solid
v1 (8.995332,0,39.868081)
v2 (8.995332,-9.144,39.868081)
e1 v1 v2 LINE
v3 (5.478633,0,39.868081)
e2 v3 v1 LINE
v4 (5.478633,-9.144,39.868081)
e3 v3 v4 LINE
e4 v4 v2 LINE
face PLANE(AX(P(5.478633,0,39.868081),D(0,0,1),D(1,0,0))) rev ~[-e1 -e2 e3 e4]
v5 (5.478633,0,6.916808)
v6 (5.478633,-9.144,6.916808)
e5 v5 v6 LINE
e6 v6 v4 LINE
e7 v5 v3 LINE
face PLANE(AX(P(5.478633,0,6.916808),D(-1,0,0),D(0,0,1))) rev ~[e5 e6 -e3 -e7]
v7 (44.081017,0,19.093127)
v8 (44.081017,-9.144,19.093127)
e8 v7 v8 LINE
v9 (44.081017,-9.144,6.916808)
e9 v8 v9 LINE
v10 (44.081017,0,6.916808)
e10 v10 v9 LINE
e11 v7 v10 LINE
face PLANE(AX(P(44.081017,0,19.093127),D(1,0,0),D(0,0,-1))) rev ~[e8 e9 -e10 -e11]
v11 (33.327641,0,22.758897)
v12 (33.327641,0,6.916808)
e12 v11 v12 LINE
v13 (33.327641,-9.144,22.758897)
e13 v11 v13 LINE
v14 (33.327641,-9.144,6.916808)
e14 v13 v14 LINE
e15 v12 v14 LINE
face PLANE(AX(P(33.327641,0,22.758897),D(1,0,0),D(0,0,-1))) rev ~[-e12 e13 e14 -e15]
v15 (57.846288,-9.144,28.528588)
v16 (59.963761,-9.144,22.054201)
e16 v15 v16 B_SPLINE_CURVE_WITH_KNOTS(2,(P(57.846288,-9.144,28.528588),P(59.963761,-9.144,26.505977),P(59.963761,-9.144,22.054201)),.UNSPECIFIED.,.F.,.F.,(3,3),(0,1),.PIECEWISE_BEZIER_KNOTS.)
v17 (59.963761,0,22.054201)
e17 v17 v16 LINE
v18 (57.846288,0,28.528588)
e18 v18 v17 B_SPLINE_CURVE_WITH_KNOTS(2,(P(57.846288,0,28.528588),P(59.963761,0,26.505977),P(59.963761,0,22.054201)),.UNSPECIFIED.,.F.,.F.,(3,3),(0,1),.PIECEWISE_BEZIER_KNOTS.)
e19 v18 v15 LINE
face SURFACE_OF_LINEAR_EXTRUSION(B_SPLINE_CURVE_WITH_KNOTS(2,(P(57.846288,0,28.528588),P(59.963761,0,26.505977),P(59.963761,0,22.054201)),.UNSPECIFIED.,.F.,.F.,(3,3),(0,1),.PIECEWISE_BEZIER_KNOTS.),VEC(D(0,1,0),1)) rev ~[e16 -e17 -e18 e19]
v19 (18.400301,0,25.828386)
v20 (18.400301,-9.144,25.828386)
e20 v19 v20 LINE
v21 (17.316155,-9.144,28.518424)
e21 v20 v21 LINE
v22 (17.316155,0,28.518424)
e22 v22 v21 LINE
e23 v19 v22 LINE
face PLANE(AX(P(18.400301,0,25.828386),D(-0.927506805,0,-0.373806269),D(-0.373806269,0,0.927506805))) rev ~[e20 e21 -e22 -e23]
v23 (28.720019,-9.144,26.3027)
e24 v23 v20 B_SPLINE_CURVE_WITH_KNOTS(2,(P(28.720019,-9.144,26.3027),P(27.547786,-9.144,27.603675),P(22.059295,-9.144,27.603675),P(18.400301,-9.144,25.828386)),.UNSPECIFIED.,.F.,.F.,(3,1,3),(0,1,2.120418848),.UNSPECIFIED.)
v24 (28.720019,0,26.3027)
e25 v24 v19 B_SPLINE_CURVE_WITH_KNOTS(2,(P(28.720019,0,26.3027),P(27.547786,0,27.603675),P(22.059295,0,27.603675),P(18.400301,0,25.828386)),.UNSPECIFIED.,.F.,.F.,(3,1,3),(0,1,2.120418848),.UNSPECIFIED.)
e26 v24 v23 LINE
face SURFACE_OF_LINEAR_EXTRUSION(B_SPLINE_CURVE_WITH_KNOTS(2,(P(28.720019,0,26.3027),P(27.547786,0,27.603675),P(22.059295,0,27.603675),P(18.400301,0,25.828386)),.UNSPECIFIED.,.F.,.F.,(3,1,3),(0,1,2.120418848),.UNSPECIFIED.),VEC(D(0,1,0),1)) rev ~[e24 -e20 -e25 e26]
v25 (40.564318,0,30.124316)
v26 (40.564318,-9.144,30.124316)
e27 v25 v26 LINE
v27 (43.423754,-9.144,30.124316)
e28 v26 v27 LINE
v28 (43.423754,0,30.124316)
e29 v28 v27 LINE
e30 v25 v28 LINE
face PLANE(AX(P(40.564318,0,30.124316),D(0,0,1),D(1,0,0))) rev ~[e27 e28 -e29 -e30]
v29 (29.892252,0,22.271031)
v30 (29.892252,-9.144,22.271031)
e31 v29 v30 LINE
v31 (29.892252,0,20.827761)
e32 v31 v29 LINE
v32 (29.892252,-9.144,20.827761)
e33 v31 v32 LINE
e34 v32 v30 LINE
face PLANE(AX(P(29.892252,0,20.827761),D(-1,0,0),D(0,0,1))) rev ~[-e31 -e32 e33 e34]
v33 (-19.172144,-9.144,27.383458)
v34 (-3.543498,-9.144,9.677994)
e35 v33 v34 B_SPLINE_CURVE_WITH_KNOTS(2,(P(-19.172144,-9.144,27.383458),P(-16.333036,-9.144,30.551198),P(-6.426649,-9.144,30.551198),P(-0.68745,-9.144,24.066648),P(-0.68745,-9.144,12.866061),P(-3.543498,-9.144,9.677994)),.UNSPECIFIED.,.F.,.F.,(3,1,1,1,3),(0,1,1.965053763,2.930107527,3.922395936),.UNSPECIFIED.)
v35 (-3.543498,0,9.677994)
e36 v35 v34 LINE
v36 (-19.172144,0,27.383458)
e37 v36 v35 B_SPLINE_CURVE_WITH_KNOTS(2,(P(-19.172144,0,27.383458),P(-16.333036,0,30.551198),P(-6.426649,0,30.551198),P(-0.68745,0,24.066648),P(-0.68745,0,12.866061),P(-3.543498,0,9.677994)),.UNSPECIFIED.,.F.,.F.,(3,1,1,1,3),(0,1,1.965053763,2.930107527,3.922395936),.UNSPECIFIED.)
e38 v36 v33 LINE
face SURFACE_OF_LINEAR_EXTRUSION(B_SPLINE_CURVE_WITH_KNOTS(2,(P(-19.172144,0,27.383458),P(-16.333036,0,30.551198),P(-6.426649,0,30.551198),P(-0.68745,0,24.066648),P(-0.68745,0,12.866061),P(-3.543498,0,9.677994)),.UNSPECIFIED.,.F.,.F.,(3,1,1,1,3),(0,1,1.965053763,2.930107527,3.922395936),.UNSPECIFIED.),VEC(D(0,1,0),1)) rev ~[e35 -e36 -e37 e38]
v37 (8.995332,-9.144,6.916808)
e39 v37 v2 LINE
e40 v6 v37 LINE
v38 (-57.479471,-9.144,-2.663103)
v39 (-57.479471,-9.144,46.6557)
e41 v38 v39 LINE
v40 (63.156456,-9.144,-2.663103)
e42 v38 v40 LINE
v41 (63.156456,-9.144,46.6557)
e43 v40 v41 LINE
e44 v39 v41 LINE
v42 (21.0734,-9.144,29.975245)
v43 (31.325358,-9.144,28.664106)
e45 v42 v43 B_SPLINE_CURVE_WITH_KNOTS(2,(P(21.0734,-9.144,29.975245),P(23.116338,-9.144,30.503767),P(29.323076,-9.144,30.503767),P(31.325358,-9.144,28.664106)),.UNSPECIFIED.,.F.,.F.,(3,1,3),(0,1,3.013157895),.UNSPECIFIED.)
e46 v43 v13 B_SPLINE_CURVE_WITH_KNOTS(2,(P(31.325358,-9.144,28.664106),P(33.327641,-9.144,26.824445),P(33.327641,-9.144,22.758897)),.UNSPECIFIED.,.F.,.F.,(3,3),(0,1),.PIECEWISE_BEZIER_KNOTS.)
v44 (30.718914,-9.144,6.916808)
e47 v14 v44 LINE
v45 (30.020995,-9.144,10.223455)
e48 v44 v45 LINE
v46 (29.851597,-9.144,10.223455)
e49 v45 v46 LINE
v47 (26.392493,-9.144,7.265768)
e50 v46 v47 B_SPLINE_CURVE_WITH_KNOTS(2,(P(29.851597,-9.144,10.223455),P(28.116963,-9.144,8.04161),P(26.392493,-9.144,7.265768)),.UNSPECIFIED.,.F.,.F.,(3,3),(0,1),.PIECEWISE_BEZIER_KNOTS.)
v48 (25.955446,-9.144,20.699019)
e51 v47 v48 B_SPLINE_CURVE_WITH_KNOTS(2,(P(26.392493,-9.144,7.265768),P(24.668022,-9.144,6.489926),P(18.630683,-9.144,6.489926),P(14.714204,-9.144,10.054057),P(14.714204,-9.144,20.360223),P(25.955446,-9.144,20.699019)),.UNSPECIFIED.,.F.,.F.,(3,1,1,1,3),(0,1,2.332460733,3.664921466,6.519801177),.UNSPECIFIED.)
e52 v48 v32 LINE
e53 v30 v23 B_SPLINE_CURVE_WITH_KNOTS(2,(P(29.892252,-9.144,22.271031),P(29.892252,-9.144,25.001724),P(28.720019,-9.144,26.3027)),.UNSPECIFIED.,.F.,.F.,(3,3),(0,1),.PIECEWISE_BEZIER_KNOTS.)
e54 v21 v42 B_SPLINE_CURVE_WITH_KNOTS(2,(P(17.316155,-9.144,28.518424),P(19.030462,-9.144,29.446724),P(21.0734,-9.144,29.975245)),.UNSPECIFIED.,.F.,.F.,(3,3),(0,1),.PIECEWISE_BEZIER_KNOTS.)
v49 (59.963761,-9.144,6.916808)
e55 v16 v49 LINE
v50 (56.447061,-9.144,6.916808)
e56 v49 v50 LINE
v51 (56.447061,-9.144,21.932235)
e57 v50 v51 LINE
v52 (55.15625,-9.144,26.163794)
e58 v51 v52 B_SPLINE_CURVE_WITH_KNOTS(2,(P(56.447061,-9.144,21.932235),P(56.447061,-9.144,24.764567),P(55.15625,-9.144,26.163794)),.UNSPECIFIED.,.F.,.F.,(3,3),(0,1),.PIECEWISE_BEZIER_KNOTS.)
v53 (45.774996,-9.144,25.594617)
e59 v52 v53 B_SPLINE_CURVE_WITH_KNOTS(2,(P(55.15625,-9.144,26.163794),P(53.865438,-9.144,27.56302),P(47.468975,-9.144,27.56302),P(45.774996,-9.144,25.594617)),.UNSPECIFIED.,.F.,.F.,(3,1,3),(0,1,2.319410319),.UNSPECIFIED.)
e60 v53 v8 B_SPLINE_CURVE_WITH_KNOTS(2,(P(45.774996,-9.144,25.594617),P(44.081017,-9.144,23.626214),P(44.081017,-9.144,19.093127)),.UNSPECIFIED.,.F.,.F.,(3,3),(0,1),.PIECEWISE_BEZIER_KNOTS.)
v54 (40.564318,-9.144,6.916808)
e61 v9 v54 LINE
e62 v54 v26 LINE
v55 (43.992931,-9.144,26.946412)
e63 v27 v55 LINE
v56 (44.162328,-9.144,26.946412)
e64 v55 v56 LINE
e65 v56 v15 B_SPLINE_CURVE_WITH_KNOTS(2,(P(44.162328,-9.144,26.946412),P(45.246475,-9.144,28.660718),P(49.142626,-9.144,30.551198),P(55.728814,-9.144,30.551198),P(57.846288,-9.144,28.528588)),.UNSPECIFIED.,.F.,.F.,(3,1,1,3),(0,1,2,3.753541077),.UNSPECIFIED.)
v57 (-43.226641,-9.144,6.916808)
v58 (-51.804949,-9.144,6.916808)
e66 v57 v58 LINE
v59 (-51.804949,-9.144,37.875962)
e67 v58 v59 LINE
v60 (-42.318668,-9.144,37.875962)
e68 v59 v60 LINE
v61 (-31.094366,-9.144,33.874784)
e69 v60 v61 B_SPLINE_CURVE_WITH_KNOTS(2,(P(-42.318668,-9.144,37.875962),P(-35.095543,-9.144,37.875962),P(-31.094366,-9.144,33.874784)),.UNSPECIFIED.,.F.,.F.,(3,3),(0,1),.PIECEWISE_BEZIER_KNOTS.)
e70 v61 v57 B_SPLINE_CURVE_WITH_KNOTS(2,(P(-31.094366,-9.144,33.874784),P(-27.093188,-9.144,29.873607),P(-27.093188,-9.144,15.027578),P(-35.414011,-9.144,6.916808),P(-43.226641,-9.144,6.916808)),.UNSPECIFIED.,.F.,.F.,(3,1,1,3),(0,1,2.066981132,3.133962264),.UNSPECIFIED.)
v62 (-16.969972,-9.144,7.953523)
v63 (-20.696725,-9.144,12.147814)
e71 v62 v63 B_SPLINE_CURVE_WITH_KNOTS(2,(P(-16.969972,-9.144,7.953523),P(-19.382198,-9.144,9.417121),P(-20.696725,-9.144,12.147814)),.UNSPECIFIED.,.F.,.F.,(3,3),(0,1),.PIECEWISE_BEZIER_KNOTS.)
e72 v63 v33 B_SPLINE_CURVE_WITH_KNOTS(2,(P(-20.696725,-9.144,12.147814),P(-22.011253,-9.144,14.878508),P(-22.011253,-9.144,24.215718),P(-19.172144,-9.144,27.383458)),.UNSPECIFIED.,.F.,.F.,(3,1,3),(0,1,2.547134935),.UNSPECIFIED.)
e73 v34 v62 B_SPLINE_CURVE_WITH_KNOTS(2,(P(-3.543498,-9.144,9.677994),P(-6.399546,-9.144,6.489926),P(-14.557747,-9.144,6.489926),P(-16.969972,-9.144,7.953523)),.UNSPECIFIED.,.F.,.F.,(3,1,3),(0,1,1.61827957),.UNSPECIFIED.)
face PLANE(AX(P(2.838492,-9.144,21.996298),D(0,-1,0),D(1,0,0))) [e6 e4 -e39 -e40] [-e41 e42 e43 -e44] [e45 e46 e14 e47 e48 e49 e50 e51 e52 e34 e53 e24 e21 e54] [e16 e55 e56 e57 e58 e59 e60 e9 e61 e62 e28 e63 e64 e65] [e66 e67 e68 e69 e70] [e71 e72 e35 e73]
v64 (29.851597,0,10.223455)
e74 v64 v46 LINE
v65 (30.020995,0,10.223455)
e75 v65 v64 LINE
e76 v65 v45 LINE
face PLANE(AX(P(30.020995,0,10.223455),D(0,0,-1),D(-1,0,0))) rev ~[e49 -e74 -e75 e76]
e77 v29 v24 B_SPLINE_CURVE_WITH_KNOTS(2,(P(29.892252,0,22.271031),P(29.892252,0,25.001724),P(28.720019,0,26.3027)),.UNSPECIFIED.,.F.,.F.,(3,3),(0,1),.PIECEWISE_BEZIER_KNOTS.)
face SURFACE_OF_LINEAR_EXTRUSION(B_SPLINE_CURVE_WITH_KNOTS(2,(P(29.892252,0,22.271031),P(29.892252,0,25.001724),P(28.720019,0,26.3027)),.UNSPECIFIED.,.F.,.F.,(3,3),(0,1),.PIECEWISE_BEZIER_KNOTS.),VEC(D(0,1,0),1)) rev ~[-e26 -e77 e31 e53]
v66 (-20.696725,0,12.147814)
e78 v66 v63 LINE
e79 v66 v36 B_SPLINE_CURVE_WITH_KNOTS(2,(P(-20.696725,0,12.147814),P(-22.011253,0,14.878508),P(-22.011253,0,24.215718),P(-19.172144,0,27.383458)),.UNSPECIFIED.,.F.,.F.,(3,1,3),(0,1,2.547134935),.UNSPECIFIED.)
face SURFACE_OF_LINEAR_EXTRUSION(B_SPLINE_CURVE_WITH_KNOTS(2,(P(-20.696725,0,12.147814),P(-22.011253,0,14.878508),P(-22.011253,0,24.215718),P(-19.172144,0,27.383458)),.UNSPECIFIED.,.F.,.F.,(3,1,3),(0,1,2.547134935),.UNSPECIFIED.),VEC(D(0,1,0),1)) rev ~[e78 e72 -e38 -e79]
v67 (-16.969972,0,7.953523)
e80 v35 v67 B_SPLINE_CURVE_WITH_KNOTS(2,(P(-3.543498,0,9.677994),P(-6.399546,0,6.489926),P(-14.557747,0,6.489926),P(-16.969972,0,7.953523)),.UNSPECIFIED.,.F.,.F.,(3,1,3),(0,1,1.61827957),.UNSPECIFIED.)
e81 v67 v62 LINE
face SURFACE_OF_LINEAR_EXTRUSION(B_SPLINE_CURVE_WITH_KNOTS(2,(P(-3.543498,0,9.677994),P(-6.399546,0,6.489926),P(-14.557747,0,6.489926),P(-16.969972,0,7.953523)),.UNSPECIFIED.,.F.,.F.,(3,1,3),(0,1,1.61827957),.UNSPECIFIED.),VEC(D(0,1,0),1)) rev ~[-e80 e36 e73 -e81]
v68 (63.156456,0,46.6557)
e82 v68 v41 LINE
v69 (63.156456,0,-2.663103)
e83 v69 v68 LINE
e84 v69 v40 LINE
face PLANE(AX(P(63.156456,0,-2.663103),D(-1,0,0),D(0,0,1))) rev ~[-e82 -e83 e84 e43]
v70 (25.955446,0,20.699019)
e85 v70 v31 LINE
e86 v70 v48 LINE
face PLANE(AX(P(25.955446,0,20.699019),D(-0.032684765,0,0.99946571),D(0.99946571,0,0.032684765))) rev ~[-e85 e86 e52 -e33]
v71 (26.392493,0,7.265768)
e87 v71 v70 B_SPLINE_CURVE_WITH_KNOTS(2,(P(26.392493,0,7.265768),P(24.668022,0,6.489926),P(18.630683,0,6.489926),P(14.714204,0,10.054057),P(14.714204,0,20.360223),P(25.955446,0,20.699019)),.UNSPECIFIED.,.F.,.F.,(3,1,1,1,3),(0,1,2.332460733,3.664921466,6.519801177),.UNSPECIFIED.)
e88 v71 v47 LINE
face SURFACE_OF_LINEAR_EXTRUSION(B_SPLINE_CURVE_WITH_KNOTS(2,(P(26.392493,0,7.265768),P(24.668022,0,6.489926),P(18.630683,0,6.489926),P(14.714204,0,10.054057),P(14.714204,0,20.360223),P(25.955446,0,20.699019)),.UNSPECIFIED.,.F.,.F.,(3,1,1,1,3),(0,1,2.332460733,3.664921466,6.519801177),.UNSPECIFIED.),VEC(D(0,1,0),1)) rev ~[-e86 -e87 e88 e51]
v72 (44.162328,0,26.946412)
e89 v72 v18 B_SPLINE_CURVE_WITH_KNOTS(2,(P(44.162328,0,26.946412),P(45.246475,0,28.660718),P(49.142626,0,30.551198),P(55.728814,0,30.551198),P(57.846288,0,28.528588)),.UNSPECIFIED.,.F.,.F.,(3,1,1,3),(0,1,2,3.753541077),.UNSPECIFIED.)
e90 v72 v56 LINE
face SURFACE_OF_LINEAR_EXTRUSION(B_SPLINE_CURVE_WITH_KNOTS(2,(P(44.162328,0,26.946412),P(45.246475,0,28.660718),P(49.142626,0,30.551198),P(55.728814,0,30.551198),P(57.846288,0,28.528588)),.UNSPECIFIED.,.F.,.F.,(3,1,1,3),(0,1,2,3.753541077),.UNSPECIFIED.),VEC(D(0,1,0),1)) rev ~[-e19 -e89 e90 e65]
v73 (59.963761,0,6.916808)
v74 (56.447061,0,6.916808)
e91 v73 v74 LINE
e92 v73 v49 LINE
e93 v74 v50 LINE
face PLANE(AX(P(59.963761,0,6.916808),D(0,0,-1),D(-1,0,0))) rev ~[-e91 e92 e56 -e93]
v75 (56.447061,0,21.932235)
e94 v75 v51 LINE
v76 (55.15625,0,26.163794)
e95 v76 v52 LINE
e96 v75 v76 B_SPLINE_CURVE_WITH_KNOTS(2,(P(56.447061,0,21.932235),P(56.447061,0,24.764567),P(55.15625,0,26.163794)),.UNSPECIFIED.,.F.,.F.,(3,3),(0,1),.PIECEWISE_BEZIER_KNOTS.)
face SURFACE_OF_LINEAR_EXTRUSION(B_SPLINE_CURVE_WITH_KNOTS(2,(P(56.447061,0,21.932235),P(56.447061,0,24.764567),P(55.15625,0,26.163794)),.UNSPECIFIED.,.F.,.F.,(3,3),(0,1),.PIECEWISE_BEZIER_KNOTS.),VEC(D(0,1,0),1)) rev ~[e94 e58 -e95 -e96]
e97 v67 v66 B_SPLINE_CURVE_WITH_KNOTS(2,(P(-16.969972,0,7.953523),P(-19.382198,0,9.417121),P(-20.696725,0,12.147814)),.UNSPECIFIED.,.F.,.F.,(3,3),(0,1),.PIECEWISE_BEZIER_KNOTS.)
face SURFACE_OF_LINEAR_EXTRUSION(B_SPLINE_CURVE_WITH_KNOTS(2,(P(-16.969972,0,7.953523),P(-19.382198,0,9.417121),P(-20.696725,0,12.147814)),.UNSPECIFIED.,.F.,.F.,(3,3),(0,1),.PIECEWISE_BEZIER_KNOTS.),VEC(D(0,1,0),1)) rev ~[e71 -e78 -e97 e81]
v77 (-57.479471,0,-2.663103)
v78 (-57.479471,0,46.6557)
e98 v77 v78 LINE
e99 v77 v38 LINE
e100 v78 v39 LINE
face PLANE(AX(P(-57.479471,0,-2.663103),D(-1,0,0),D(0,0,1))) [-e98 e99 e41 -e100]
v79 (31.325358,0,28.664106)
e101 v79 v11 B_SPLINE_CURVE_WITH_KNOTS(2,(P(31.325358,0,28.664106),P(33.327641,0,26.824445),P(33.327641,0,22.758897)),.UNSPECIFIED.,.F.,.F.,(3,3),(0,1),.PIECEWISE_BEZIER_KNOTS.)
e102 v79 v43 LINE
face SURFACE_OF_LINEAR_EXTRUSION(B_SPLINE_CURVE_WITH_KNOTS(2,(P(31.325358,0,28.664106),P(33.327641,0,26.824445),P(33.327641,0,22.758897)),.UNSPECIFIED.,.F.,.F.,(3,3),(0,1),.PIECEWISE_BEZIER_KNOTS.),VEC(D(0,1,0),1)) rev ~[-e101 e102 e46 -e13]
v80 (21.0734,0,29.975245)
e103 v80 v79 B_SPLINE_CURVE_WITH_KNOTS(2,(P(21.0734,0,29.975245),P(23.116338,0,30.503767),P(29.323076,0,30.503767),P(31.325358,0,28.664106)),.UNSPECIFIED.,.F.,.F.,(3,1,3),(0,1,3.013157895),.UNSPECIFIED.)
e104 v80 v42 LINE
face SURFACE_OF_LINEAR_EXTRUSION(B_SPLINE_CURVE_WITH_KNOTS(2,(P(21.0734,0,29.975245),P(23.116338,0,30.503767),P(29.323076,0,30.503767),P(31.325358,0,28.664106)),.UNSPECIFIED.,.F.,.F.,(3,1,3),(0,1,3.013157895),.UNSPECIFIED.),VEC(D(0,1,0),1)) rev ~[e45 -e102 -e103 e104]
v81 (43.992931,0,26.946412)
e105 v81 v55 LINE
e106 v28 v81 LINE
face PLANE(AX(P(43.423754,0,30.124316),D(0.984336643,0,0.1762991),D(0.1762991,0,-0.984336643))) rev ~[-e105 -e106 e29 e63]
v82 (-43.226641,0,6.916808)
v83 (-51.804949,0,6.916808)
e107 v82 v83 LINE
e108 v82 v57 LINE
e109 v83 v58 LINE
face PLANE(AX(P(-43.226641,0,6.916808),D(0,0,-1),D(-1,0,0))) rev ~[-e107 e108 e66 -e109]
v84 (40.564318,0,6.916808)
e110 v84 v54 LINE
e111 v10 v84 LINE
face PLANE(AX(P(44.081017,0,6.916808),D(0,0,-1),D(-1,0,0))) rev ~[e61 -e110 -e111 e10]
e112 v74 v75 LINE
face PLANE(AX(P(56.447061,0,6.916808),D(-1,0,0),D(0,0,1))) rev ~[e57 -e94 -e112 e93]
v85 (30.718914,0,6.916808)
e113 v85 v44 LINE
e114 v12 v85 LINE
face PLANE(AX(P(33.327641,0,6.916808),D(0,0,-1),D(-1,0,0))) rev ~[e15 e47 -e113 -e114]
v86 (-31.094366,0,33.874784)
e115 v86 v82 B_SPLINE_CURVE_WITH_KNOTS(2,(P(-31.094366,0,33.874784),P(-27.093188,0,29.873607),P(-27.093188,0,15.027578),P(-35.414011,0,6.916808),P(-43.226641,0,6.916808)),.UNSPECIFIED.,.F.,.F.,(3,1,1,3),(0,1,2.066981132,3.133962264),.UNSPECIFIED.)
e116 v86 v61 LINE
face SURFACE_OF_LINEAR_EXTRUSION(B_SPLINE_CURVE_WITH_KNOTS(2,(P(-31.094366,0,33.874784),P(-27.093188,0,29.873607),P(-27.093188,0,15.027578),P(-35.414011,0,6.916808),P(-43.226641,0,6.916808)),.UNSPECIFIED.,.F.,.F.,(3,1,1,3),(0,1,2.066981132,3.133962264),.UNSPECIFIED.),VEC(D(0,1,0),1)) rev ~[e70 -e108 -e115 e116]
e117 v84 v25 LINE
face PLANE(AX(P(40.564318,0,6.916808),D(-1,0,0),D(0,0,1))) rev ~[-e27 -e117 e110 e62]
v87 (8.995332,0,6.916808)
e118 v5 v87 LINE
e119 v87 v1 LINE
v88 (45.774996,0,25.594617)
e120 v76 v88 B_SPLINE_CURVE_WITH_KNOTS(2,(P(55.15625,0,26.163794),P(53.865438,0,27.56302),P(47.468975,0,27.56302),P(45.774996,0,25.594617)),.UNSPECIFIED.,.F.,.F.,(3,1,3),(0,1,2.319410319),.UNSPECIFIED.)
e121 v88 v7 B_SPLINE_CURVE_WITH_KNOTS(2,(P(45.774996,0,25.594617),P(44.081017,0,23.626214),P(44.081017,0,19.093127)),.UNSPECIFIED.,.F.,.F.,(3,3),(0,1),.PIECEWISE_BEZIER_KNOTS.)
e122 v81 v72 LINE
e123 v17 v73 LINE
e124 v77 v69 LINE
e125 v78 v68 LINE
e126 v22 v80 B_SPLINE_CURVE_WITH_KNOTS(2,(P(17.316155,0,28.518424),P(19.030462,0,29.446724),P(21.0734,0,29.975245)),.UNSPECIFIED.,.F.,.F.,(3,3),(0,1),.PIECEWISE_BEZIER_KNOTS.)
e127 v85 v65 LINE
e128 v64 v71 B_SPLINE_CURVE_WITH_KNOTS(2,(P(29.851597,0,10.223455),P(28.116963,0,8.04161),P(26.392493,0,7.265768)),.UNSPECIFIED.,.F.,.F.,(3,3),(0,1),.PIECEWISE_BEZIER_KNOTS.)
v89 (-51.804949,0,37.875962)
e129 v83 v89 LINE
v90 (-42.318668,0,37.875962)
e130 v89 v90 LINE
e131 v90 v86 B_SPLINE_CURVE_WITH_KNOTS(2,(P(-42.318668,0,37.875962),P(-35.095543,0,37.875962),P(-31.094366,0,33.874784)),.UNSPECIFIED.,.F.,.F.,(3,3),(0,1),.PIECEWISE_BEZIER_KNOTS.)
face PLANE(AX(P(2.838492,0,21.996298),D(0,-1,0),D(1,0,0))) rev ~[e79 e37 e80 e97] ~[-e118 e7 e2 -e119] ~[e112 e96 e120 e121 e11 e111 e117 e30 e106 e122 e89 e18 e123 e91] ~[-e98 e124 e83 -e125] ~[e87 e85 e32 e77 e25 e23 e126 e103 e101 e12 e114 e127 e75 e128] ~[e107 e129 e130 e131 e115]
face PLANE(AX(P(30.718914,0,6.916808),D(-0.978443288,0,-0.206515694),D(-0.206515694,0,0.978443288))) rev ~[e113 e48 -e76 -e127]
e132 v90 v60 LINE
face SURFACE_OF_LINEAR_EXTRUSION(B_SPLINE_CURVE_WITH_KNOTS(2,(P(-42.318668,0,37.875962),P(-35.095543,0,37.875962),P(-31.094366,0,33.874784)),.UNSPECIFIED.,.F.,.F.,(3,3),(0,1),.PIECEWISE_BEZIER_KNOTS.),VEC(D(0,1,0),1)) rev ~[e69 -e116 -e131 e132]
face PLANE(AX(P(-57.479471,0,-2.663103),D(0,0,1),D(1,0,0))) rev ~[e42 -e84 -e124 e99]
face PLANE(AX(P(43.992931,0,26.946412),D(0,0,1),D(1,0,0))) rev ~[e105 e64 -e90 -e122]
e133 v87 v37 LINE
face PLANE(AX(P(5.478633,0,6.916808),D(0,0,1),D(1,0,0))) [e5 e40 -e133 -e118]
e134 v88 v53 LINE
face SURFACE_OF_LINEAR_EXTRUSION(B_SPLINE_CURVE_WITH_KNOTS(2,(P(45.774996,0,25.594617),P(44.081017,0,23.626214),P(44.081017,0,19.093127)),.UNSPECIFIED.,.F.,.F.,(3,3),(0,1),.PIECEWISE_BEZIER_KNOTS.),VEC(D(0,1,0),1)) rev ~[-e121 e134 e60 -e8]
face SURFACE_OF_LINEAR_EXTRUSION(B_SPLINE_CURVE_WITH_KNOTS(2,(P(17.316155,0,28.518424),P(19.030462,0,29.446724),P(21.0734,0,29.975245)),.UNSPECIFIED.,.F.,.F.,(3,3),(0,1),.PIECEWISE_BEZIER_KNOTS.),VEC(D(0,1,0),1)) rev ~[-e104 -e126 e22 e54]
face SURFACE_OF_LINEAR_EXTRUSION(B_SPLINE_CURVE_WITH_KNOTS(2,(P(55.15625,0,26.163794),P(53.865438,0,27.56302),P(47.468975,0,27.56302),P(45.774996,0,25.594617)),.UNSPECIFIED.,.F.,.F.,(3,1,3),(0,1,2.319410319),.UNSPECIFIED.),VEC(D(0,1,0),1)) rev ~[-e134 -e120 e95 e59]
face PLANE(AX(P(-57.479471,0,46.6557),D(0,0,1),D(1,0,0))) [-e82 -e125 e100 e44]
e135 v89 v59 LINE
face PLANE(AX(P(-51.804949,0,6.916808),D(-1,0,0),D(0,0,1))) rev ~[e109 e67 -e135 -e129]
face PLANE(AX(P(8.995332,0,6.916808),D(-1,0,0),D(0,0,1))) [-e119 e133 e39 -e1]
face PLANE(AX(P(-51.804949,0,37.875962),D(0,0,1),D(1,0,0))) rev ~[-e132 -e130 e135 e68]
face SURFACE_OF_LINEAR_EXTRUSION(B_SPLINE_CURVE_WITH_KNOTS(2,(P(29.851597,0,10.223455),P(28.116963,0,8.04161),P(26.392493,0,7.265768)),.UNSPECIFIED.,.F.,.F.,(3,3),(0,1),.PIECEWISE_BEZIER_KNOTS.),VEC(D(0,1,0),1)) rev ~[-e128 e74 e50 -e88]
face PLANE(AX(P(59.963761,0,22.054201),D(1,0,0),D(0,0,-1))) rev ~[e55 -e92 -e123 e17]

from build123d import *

# Parameters (mm, degrees)
F0_W     = 120.6359267235
F0_H     = 49.3188030086
F0_W_2   = 3.5166996237
F0_H_2   = 32.9512721967
F1_DEPTH = 9.144


with BuildPart() as f1:
    # F0 (on Front) → F1 (new body)
    with BuildSketch(Plane.XZ):
        with Locations((2.8384923935, 21.9962981064)):
            Rectangle(F0_W, F0_H)
        with BuildLine():
            add(Edge.make_bspline(
                [(-3.5570494323, 27.3089231075), (-0.687449643, 24.0666480209), (-0.687449643, 18.5442777062)],
                knots=[0, 0, 0, 1, 1, 1], degree=2))
            add(Edge.make_bspline(
                [(-0.687449643, 18.5442777062), (-0.687449643, 12.8660613581), (-3.5434976033, 9.6779935875)],
                knots=[0, 0, 0, 1, 1, 1], degree=2))
            add(Edge.make_bspline(
                [(-3.5434976033, 9.6779935875), (-6.3995455636, 6.4899258168), (-11.440825949, 6.4899258168)],
                knots=[0, 0, 0, 1, 1, 1], degree=2))
            add(Edge.make_bspline(
                [(-11.440825949, 6.4899258168), (-14.5577466175, 6.4899258168), (-16.9699721782, 7.9535233481)],
                knots=[0, 0, 0, 1, 1, 1], degree=2))
            add(Edge.make_bspline(
                [(-16.9699721782, 7.9535233481), (-19.382197739, 9.4171208793), (-20.6967251513, 12.1478144214)],
                knots=[0, 0, 0, 1, 1, 1], degree=2))
            add(Edge.make_bspline(
                [(-20.6967251513, 12.1478144214), (-22.0112525637, 14.8785079636), (-22.0112525637, 18.5442777062)],
                knots=[0, 0, 0, 1, 1, 1], degree=2))
            add(Edge.make_bspline(
                [(-22.0112525637, 18.5442777062), (-22.0112525637, 24.2157181398), (-19.1721443896, 27.3834581669)],
                knots=[0, 0, 0, 1, 1, 1], degree=2))
            add(Edge.make_bspline(
                [(-19.1721443896, 27.3834581669), (-16.3330362156, 30.5511981941), (-11.2917558301, 30.5511981941)],
                knots=[0, 0, 0, 1, 1, 1], degree=2))
            add(Edge.make_bspline(
                [(-11.2917558301, 30.5511981941), (-6.4266492216, 30.5511981941), (-3.5570494323, 27.3089231075)],
                knots=[0, 0, 0, 1, 1, 1], degree=2))
        make_face(mode=Mode.SUBTRACT)
        with BuildLine():
            Line((33.3276411297, 6.9168084301), (30.7189140485, 6.9168084301))
            Line((30.7189140485, 6.9168084301), (30.0209948554, 10.2234547044))
            Line((30.0209948554, 10.2234547044), (29.851596993, 10.2234547044))
            add(Edge.make_bspline(
                [(29.851596993, 10.2234547044), (28.1169628818, 8.0416102365), (26.3924926425, 7.2657680267)],
                knots=[0, 0, 0, 1, 1, 1], degree=2))
            add(Edge.make_bspline(
                [(26.3924926425, 7.2657680267), (24.6680224031, 6.4899258168), (22.0796230654, 6.4899258168)],
                knots=[0, 0, 0, 1, 1, 1], degree=2))
            add(Edge.make_bspline(
                [(22.0796230654, 6.4899258168), (18.6306825867, 6.4899258168), (16.6724432972, 8.2719913294)],
                knots=[0, 0, 0, 1, 1, 1], degree=2))
            add(Edge.make_bspline(
                [(16.6724432972, 8.2719913294), (14.7142040077, 10.054056842), (14.7142040077, 13.3335994583)],
                knots=[0, 0, 0, 1, 1, 1], degree=2))
            add(Edge.make_bspline(
                [(14.7142040077, 13.3335994583), (14.7142040077, 20.3602227913), (25.9554461574, 20.6990185161)],
                knots=[0, 0, 0, 1, 1, 1], degree=2))
            Line((25.9554461574, 20.6990185161), (29.8922524799, 20.8277608915))
            Line((29.8922524799, 20.8277608915), (29.8922524799, 22.2710306793))
            add(Edge.make_bspline(
                [(29.8922524799, 22.2710306793), (29.8922524799, 25.0017242214), (28.720019272, 26.3026998047)],
                knots=[0, 0, 0, 1, 1, 1], degree=2))
            add(Edge.make_bspline(
                [(28.720019272, 26.3026998047), (27.5477860641, 27.6036753881), (24.9593867264, 27.6036753881)],
                knots=[0, 0, 0, 1, 1, 1], degree=2))
            add(Edge.make_bspline(
                [(24.9593867264, 27.6036753881), (22.0592953219, 27.6036753881), (18.4003014938, 25.82838579)],
                knots=[0, 0, 0, 1, 1, 1], degree=2))
            Line((18.4003014938, 25.82838579), (17.3161551743, 28.5184238451))
            add(Edge.make_bspline(
                [(17.3161551743, 28.5184238451), (19.030461542, 29.4467241311), (21.0733997627, 29.9752454619)],
                knots=[0, 0, 0, 1, 1, 1], degree=2))
            add(Edge.make_bspline(
                [(21.0733997627, 29.9752454619), (23.1163379834, 30.5037667926), (25.1762159903, 30.5037667926)],
                knots=[0, 0, 0, 1, 1, 1], degree=2))
            add(Edge.make_bspline(
                [(25.1762159903, 30.5037667926), (29.3230756622, 30.5037667926), (31.325358396, 28.6641060068)],
                knots=[0, 0, 0, 1, 1, 1], degree=2))
            add(Edge.make_bspline(
                [(31.325358396, 28.6641060068), (33.3276411297, 26.824445221), (33.3276411297, 22.7588965231)],
                knots=[0, 0, 0, 1, 1, 1], degree=2))
            Line((33.3276411297, 22.7588965231), (33.3276411297, 6.9168084301))
        make_face(mode=Mode.SUBTRACT)
        with BuildLine():
            Line((59.9637610157, 6.9168084301), (56.4470613919, 6.9168084301))
            Line((56.4470613919, 6.9168084301), (56.4470613919, 21.9322349545))
            add(Edge.make_bspline(
                [(56.4470613919, 21.9322349545), (56.4470613919, 24.764567214), (55.1562496803, 26.1637935576)],
                knots=[0, 0, 0, 1, 1, 1], degree=2))
            add(Edge.make_bspline(
                [(55.1562496803, 26.1637935576), (53.8654379688, 27.5630199011), (51.1076407687, 27.5630199011)],
                knots=[0, 0, 0, 1, 1, 1], degree=2))
            add(Edge.make_bspline(
                [(51.1076407687, 27.5630199011), (47.468974684, 27.5630199011), (45.7749960599, 25.5946167399)],
                knots=[0, 0, 0, 1, 1, 1], degree=2))
            add(Edge.make_bspline(
                [(45.7749960599, 25.5946167399), (44.0810174357, 23.6262135786), (44.0810174357, 19.0931267804)],
                knots=[0, 0, 0, 1, 1, 1], degree=2))
            Line((44.0810174357, 19.0931267804), (44.0810174357, 6.9168084301))
            Line((44.0810174357, 6.9168084301), (40.564317812, 6.9168084301))
            Line((40.564317812, 6.9168084301), (40.564317812, 30.1243155808))
            Line((40.564317812, 30.1243155808), (43.4237537296, 30.1243155808))
            Line((43.4237537296, 30.1243155808), (43.9929305473, 26.9464116819))
            Line((43.9929305473, 26.9464116819), (44.1623284097, 26.9464116819))
            add(Edge.make_bspline(
                [(44.1623284097, 26.9464116819), (45.2464747291, 28.6607180495), (47.1945501469, 29.6059581218)],
                knots=[0, 0, 0, 1, 1, 1], degree=2))
            add(Edge.make_bspline(
                [(47.1945501469, 29.6059581218), (49.1426255647, 30.5511981941), (51.5345233819, 30.5511981941)],
                knots=[0, 0, 0, 1, 1, 1], degree=2))
            add(Edge.make_bspline(
                [(51.5345233819, 30.5511981941), (55.7288144553, 30.5511981941), (57.8462877355, 28.5285877169)],
                knots=[0, 0, 0, 1, 1, 1], degree=2))
            add(Edge.make_bspline(
                [(57.8462877355, 28.5285877169), (59.9637610157, 26.5059772396), (59.9637610157, 22.0542014154)],
                knots=[0, 0, 0, 1, 1, 1], degree=2))
            Line((59.9637610157, 22.0542014154), (59.9637610157, 6.9168084301))
        make_face(mode=Mode.SUBTRACT)
        with BuildLine():
            add(Edge.make_bspline(
                [(-31.0943659463, 33.8747842546), (-27.0931884361, 29.8736067444), (-27.0931884361, 22.6911373781)],
                knots=[0, 0, 0, 1, 1, 1], degree=2))
            add(Edge.make_bspline(
                [(-27.0931884361, 22.6911373781), (-27.0931884361, 15.0275780825), (-31.253599937, 10.9721932563)],
                knots=[0, 0, 0, 1, 1, 1], degree=2))
            add(Edge.make_bspline(
                [(-31.253599937, 10.9721932563), (-35.4140114379, 6.9168084301), (-43.2266408524, 6.9168084301)],
                knots=[0, 0, 0, 1, 1, 1], degree=2))
            Line((-43.2266408524, 6.9168084301), (-51.804948605, 6.9168084301))
            Line((-51.804948605, 6.9168084301), (-51.804948605, 37.8759617649))
            Line((-51.804948605, 37.8759617649), (-42.3186683098, 37.8759617649))
            add(Edge.make_bspline(
                [(-42.3186683098, 37.8759617649), (-35.0955434565, 37.8759617649), (-31.0943659463, 33.8747842546)],
                knots=[0, 0, 0, 1, 1, 1], degree=2))
        make_face(mode=Mode.SUBTRACT)
        with Locations((7.2369823607, 23.3924445285)):
            Rectangle(F0_W_2, F0_H_2, mode=Mode.SUBTRACT)
    extrude(amount=F1_DEPTH)


solid = f1.part
